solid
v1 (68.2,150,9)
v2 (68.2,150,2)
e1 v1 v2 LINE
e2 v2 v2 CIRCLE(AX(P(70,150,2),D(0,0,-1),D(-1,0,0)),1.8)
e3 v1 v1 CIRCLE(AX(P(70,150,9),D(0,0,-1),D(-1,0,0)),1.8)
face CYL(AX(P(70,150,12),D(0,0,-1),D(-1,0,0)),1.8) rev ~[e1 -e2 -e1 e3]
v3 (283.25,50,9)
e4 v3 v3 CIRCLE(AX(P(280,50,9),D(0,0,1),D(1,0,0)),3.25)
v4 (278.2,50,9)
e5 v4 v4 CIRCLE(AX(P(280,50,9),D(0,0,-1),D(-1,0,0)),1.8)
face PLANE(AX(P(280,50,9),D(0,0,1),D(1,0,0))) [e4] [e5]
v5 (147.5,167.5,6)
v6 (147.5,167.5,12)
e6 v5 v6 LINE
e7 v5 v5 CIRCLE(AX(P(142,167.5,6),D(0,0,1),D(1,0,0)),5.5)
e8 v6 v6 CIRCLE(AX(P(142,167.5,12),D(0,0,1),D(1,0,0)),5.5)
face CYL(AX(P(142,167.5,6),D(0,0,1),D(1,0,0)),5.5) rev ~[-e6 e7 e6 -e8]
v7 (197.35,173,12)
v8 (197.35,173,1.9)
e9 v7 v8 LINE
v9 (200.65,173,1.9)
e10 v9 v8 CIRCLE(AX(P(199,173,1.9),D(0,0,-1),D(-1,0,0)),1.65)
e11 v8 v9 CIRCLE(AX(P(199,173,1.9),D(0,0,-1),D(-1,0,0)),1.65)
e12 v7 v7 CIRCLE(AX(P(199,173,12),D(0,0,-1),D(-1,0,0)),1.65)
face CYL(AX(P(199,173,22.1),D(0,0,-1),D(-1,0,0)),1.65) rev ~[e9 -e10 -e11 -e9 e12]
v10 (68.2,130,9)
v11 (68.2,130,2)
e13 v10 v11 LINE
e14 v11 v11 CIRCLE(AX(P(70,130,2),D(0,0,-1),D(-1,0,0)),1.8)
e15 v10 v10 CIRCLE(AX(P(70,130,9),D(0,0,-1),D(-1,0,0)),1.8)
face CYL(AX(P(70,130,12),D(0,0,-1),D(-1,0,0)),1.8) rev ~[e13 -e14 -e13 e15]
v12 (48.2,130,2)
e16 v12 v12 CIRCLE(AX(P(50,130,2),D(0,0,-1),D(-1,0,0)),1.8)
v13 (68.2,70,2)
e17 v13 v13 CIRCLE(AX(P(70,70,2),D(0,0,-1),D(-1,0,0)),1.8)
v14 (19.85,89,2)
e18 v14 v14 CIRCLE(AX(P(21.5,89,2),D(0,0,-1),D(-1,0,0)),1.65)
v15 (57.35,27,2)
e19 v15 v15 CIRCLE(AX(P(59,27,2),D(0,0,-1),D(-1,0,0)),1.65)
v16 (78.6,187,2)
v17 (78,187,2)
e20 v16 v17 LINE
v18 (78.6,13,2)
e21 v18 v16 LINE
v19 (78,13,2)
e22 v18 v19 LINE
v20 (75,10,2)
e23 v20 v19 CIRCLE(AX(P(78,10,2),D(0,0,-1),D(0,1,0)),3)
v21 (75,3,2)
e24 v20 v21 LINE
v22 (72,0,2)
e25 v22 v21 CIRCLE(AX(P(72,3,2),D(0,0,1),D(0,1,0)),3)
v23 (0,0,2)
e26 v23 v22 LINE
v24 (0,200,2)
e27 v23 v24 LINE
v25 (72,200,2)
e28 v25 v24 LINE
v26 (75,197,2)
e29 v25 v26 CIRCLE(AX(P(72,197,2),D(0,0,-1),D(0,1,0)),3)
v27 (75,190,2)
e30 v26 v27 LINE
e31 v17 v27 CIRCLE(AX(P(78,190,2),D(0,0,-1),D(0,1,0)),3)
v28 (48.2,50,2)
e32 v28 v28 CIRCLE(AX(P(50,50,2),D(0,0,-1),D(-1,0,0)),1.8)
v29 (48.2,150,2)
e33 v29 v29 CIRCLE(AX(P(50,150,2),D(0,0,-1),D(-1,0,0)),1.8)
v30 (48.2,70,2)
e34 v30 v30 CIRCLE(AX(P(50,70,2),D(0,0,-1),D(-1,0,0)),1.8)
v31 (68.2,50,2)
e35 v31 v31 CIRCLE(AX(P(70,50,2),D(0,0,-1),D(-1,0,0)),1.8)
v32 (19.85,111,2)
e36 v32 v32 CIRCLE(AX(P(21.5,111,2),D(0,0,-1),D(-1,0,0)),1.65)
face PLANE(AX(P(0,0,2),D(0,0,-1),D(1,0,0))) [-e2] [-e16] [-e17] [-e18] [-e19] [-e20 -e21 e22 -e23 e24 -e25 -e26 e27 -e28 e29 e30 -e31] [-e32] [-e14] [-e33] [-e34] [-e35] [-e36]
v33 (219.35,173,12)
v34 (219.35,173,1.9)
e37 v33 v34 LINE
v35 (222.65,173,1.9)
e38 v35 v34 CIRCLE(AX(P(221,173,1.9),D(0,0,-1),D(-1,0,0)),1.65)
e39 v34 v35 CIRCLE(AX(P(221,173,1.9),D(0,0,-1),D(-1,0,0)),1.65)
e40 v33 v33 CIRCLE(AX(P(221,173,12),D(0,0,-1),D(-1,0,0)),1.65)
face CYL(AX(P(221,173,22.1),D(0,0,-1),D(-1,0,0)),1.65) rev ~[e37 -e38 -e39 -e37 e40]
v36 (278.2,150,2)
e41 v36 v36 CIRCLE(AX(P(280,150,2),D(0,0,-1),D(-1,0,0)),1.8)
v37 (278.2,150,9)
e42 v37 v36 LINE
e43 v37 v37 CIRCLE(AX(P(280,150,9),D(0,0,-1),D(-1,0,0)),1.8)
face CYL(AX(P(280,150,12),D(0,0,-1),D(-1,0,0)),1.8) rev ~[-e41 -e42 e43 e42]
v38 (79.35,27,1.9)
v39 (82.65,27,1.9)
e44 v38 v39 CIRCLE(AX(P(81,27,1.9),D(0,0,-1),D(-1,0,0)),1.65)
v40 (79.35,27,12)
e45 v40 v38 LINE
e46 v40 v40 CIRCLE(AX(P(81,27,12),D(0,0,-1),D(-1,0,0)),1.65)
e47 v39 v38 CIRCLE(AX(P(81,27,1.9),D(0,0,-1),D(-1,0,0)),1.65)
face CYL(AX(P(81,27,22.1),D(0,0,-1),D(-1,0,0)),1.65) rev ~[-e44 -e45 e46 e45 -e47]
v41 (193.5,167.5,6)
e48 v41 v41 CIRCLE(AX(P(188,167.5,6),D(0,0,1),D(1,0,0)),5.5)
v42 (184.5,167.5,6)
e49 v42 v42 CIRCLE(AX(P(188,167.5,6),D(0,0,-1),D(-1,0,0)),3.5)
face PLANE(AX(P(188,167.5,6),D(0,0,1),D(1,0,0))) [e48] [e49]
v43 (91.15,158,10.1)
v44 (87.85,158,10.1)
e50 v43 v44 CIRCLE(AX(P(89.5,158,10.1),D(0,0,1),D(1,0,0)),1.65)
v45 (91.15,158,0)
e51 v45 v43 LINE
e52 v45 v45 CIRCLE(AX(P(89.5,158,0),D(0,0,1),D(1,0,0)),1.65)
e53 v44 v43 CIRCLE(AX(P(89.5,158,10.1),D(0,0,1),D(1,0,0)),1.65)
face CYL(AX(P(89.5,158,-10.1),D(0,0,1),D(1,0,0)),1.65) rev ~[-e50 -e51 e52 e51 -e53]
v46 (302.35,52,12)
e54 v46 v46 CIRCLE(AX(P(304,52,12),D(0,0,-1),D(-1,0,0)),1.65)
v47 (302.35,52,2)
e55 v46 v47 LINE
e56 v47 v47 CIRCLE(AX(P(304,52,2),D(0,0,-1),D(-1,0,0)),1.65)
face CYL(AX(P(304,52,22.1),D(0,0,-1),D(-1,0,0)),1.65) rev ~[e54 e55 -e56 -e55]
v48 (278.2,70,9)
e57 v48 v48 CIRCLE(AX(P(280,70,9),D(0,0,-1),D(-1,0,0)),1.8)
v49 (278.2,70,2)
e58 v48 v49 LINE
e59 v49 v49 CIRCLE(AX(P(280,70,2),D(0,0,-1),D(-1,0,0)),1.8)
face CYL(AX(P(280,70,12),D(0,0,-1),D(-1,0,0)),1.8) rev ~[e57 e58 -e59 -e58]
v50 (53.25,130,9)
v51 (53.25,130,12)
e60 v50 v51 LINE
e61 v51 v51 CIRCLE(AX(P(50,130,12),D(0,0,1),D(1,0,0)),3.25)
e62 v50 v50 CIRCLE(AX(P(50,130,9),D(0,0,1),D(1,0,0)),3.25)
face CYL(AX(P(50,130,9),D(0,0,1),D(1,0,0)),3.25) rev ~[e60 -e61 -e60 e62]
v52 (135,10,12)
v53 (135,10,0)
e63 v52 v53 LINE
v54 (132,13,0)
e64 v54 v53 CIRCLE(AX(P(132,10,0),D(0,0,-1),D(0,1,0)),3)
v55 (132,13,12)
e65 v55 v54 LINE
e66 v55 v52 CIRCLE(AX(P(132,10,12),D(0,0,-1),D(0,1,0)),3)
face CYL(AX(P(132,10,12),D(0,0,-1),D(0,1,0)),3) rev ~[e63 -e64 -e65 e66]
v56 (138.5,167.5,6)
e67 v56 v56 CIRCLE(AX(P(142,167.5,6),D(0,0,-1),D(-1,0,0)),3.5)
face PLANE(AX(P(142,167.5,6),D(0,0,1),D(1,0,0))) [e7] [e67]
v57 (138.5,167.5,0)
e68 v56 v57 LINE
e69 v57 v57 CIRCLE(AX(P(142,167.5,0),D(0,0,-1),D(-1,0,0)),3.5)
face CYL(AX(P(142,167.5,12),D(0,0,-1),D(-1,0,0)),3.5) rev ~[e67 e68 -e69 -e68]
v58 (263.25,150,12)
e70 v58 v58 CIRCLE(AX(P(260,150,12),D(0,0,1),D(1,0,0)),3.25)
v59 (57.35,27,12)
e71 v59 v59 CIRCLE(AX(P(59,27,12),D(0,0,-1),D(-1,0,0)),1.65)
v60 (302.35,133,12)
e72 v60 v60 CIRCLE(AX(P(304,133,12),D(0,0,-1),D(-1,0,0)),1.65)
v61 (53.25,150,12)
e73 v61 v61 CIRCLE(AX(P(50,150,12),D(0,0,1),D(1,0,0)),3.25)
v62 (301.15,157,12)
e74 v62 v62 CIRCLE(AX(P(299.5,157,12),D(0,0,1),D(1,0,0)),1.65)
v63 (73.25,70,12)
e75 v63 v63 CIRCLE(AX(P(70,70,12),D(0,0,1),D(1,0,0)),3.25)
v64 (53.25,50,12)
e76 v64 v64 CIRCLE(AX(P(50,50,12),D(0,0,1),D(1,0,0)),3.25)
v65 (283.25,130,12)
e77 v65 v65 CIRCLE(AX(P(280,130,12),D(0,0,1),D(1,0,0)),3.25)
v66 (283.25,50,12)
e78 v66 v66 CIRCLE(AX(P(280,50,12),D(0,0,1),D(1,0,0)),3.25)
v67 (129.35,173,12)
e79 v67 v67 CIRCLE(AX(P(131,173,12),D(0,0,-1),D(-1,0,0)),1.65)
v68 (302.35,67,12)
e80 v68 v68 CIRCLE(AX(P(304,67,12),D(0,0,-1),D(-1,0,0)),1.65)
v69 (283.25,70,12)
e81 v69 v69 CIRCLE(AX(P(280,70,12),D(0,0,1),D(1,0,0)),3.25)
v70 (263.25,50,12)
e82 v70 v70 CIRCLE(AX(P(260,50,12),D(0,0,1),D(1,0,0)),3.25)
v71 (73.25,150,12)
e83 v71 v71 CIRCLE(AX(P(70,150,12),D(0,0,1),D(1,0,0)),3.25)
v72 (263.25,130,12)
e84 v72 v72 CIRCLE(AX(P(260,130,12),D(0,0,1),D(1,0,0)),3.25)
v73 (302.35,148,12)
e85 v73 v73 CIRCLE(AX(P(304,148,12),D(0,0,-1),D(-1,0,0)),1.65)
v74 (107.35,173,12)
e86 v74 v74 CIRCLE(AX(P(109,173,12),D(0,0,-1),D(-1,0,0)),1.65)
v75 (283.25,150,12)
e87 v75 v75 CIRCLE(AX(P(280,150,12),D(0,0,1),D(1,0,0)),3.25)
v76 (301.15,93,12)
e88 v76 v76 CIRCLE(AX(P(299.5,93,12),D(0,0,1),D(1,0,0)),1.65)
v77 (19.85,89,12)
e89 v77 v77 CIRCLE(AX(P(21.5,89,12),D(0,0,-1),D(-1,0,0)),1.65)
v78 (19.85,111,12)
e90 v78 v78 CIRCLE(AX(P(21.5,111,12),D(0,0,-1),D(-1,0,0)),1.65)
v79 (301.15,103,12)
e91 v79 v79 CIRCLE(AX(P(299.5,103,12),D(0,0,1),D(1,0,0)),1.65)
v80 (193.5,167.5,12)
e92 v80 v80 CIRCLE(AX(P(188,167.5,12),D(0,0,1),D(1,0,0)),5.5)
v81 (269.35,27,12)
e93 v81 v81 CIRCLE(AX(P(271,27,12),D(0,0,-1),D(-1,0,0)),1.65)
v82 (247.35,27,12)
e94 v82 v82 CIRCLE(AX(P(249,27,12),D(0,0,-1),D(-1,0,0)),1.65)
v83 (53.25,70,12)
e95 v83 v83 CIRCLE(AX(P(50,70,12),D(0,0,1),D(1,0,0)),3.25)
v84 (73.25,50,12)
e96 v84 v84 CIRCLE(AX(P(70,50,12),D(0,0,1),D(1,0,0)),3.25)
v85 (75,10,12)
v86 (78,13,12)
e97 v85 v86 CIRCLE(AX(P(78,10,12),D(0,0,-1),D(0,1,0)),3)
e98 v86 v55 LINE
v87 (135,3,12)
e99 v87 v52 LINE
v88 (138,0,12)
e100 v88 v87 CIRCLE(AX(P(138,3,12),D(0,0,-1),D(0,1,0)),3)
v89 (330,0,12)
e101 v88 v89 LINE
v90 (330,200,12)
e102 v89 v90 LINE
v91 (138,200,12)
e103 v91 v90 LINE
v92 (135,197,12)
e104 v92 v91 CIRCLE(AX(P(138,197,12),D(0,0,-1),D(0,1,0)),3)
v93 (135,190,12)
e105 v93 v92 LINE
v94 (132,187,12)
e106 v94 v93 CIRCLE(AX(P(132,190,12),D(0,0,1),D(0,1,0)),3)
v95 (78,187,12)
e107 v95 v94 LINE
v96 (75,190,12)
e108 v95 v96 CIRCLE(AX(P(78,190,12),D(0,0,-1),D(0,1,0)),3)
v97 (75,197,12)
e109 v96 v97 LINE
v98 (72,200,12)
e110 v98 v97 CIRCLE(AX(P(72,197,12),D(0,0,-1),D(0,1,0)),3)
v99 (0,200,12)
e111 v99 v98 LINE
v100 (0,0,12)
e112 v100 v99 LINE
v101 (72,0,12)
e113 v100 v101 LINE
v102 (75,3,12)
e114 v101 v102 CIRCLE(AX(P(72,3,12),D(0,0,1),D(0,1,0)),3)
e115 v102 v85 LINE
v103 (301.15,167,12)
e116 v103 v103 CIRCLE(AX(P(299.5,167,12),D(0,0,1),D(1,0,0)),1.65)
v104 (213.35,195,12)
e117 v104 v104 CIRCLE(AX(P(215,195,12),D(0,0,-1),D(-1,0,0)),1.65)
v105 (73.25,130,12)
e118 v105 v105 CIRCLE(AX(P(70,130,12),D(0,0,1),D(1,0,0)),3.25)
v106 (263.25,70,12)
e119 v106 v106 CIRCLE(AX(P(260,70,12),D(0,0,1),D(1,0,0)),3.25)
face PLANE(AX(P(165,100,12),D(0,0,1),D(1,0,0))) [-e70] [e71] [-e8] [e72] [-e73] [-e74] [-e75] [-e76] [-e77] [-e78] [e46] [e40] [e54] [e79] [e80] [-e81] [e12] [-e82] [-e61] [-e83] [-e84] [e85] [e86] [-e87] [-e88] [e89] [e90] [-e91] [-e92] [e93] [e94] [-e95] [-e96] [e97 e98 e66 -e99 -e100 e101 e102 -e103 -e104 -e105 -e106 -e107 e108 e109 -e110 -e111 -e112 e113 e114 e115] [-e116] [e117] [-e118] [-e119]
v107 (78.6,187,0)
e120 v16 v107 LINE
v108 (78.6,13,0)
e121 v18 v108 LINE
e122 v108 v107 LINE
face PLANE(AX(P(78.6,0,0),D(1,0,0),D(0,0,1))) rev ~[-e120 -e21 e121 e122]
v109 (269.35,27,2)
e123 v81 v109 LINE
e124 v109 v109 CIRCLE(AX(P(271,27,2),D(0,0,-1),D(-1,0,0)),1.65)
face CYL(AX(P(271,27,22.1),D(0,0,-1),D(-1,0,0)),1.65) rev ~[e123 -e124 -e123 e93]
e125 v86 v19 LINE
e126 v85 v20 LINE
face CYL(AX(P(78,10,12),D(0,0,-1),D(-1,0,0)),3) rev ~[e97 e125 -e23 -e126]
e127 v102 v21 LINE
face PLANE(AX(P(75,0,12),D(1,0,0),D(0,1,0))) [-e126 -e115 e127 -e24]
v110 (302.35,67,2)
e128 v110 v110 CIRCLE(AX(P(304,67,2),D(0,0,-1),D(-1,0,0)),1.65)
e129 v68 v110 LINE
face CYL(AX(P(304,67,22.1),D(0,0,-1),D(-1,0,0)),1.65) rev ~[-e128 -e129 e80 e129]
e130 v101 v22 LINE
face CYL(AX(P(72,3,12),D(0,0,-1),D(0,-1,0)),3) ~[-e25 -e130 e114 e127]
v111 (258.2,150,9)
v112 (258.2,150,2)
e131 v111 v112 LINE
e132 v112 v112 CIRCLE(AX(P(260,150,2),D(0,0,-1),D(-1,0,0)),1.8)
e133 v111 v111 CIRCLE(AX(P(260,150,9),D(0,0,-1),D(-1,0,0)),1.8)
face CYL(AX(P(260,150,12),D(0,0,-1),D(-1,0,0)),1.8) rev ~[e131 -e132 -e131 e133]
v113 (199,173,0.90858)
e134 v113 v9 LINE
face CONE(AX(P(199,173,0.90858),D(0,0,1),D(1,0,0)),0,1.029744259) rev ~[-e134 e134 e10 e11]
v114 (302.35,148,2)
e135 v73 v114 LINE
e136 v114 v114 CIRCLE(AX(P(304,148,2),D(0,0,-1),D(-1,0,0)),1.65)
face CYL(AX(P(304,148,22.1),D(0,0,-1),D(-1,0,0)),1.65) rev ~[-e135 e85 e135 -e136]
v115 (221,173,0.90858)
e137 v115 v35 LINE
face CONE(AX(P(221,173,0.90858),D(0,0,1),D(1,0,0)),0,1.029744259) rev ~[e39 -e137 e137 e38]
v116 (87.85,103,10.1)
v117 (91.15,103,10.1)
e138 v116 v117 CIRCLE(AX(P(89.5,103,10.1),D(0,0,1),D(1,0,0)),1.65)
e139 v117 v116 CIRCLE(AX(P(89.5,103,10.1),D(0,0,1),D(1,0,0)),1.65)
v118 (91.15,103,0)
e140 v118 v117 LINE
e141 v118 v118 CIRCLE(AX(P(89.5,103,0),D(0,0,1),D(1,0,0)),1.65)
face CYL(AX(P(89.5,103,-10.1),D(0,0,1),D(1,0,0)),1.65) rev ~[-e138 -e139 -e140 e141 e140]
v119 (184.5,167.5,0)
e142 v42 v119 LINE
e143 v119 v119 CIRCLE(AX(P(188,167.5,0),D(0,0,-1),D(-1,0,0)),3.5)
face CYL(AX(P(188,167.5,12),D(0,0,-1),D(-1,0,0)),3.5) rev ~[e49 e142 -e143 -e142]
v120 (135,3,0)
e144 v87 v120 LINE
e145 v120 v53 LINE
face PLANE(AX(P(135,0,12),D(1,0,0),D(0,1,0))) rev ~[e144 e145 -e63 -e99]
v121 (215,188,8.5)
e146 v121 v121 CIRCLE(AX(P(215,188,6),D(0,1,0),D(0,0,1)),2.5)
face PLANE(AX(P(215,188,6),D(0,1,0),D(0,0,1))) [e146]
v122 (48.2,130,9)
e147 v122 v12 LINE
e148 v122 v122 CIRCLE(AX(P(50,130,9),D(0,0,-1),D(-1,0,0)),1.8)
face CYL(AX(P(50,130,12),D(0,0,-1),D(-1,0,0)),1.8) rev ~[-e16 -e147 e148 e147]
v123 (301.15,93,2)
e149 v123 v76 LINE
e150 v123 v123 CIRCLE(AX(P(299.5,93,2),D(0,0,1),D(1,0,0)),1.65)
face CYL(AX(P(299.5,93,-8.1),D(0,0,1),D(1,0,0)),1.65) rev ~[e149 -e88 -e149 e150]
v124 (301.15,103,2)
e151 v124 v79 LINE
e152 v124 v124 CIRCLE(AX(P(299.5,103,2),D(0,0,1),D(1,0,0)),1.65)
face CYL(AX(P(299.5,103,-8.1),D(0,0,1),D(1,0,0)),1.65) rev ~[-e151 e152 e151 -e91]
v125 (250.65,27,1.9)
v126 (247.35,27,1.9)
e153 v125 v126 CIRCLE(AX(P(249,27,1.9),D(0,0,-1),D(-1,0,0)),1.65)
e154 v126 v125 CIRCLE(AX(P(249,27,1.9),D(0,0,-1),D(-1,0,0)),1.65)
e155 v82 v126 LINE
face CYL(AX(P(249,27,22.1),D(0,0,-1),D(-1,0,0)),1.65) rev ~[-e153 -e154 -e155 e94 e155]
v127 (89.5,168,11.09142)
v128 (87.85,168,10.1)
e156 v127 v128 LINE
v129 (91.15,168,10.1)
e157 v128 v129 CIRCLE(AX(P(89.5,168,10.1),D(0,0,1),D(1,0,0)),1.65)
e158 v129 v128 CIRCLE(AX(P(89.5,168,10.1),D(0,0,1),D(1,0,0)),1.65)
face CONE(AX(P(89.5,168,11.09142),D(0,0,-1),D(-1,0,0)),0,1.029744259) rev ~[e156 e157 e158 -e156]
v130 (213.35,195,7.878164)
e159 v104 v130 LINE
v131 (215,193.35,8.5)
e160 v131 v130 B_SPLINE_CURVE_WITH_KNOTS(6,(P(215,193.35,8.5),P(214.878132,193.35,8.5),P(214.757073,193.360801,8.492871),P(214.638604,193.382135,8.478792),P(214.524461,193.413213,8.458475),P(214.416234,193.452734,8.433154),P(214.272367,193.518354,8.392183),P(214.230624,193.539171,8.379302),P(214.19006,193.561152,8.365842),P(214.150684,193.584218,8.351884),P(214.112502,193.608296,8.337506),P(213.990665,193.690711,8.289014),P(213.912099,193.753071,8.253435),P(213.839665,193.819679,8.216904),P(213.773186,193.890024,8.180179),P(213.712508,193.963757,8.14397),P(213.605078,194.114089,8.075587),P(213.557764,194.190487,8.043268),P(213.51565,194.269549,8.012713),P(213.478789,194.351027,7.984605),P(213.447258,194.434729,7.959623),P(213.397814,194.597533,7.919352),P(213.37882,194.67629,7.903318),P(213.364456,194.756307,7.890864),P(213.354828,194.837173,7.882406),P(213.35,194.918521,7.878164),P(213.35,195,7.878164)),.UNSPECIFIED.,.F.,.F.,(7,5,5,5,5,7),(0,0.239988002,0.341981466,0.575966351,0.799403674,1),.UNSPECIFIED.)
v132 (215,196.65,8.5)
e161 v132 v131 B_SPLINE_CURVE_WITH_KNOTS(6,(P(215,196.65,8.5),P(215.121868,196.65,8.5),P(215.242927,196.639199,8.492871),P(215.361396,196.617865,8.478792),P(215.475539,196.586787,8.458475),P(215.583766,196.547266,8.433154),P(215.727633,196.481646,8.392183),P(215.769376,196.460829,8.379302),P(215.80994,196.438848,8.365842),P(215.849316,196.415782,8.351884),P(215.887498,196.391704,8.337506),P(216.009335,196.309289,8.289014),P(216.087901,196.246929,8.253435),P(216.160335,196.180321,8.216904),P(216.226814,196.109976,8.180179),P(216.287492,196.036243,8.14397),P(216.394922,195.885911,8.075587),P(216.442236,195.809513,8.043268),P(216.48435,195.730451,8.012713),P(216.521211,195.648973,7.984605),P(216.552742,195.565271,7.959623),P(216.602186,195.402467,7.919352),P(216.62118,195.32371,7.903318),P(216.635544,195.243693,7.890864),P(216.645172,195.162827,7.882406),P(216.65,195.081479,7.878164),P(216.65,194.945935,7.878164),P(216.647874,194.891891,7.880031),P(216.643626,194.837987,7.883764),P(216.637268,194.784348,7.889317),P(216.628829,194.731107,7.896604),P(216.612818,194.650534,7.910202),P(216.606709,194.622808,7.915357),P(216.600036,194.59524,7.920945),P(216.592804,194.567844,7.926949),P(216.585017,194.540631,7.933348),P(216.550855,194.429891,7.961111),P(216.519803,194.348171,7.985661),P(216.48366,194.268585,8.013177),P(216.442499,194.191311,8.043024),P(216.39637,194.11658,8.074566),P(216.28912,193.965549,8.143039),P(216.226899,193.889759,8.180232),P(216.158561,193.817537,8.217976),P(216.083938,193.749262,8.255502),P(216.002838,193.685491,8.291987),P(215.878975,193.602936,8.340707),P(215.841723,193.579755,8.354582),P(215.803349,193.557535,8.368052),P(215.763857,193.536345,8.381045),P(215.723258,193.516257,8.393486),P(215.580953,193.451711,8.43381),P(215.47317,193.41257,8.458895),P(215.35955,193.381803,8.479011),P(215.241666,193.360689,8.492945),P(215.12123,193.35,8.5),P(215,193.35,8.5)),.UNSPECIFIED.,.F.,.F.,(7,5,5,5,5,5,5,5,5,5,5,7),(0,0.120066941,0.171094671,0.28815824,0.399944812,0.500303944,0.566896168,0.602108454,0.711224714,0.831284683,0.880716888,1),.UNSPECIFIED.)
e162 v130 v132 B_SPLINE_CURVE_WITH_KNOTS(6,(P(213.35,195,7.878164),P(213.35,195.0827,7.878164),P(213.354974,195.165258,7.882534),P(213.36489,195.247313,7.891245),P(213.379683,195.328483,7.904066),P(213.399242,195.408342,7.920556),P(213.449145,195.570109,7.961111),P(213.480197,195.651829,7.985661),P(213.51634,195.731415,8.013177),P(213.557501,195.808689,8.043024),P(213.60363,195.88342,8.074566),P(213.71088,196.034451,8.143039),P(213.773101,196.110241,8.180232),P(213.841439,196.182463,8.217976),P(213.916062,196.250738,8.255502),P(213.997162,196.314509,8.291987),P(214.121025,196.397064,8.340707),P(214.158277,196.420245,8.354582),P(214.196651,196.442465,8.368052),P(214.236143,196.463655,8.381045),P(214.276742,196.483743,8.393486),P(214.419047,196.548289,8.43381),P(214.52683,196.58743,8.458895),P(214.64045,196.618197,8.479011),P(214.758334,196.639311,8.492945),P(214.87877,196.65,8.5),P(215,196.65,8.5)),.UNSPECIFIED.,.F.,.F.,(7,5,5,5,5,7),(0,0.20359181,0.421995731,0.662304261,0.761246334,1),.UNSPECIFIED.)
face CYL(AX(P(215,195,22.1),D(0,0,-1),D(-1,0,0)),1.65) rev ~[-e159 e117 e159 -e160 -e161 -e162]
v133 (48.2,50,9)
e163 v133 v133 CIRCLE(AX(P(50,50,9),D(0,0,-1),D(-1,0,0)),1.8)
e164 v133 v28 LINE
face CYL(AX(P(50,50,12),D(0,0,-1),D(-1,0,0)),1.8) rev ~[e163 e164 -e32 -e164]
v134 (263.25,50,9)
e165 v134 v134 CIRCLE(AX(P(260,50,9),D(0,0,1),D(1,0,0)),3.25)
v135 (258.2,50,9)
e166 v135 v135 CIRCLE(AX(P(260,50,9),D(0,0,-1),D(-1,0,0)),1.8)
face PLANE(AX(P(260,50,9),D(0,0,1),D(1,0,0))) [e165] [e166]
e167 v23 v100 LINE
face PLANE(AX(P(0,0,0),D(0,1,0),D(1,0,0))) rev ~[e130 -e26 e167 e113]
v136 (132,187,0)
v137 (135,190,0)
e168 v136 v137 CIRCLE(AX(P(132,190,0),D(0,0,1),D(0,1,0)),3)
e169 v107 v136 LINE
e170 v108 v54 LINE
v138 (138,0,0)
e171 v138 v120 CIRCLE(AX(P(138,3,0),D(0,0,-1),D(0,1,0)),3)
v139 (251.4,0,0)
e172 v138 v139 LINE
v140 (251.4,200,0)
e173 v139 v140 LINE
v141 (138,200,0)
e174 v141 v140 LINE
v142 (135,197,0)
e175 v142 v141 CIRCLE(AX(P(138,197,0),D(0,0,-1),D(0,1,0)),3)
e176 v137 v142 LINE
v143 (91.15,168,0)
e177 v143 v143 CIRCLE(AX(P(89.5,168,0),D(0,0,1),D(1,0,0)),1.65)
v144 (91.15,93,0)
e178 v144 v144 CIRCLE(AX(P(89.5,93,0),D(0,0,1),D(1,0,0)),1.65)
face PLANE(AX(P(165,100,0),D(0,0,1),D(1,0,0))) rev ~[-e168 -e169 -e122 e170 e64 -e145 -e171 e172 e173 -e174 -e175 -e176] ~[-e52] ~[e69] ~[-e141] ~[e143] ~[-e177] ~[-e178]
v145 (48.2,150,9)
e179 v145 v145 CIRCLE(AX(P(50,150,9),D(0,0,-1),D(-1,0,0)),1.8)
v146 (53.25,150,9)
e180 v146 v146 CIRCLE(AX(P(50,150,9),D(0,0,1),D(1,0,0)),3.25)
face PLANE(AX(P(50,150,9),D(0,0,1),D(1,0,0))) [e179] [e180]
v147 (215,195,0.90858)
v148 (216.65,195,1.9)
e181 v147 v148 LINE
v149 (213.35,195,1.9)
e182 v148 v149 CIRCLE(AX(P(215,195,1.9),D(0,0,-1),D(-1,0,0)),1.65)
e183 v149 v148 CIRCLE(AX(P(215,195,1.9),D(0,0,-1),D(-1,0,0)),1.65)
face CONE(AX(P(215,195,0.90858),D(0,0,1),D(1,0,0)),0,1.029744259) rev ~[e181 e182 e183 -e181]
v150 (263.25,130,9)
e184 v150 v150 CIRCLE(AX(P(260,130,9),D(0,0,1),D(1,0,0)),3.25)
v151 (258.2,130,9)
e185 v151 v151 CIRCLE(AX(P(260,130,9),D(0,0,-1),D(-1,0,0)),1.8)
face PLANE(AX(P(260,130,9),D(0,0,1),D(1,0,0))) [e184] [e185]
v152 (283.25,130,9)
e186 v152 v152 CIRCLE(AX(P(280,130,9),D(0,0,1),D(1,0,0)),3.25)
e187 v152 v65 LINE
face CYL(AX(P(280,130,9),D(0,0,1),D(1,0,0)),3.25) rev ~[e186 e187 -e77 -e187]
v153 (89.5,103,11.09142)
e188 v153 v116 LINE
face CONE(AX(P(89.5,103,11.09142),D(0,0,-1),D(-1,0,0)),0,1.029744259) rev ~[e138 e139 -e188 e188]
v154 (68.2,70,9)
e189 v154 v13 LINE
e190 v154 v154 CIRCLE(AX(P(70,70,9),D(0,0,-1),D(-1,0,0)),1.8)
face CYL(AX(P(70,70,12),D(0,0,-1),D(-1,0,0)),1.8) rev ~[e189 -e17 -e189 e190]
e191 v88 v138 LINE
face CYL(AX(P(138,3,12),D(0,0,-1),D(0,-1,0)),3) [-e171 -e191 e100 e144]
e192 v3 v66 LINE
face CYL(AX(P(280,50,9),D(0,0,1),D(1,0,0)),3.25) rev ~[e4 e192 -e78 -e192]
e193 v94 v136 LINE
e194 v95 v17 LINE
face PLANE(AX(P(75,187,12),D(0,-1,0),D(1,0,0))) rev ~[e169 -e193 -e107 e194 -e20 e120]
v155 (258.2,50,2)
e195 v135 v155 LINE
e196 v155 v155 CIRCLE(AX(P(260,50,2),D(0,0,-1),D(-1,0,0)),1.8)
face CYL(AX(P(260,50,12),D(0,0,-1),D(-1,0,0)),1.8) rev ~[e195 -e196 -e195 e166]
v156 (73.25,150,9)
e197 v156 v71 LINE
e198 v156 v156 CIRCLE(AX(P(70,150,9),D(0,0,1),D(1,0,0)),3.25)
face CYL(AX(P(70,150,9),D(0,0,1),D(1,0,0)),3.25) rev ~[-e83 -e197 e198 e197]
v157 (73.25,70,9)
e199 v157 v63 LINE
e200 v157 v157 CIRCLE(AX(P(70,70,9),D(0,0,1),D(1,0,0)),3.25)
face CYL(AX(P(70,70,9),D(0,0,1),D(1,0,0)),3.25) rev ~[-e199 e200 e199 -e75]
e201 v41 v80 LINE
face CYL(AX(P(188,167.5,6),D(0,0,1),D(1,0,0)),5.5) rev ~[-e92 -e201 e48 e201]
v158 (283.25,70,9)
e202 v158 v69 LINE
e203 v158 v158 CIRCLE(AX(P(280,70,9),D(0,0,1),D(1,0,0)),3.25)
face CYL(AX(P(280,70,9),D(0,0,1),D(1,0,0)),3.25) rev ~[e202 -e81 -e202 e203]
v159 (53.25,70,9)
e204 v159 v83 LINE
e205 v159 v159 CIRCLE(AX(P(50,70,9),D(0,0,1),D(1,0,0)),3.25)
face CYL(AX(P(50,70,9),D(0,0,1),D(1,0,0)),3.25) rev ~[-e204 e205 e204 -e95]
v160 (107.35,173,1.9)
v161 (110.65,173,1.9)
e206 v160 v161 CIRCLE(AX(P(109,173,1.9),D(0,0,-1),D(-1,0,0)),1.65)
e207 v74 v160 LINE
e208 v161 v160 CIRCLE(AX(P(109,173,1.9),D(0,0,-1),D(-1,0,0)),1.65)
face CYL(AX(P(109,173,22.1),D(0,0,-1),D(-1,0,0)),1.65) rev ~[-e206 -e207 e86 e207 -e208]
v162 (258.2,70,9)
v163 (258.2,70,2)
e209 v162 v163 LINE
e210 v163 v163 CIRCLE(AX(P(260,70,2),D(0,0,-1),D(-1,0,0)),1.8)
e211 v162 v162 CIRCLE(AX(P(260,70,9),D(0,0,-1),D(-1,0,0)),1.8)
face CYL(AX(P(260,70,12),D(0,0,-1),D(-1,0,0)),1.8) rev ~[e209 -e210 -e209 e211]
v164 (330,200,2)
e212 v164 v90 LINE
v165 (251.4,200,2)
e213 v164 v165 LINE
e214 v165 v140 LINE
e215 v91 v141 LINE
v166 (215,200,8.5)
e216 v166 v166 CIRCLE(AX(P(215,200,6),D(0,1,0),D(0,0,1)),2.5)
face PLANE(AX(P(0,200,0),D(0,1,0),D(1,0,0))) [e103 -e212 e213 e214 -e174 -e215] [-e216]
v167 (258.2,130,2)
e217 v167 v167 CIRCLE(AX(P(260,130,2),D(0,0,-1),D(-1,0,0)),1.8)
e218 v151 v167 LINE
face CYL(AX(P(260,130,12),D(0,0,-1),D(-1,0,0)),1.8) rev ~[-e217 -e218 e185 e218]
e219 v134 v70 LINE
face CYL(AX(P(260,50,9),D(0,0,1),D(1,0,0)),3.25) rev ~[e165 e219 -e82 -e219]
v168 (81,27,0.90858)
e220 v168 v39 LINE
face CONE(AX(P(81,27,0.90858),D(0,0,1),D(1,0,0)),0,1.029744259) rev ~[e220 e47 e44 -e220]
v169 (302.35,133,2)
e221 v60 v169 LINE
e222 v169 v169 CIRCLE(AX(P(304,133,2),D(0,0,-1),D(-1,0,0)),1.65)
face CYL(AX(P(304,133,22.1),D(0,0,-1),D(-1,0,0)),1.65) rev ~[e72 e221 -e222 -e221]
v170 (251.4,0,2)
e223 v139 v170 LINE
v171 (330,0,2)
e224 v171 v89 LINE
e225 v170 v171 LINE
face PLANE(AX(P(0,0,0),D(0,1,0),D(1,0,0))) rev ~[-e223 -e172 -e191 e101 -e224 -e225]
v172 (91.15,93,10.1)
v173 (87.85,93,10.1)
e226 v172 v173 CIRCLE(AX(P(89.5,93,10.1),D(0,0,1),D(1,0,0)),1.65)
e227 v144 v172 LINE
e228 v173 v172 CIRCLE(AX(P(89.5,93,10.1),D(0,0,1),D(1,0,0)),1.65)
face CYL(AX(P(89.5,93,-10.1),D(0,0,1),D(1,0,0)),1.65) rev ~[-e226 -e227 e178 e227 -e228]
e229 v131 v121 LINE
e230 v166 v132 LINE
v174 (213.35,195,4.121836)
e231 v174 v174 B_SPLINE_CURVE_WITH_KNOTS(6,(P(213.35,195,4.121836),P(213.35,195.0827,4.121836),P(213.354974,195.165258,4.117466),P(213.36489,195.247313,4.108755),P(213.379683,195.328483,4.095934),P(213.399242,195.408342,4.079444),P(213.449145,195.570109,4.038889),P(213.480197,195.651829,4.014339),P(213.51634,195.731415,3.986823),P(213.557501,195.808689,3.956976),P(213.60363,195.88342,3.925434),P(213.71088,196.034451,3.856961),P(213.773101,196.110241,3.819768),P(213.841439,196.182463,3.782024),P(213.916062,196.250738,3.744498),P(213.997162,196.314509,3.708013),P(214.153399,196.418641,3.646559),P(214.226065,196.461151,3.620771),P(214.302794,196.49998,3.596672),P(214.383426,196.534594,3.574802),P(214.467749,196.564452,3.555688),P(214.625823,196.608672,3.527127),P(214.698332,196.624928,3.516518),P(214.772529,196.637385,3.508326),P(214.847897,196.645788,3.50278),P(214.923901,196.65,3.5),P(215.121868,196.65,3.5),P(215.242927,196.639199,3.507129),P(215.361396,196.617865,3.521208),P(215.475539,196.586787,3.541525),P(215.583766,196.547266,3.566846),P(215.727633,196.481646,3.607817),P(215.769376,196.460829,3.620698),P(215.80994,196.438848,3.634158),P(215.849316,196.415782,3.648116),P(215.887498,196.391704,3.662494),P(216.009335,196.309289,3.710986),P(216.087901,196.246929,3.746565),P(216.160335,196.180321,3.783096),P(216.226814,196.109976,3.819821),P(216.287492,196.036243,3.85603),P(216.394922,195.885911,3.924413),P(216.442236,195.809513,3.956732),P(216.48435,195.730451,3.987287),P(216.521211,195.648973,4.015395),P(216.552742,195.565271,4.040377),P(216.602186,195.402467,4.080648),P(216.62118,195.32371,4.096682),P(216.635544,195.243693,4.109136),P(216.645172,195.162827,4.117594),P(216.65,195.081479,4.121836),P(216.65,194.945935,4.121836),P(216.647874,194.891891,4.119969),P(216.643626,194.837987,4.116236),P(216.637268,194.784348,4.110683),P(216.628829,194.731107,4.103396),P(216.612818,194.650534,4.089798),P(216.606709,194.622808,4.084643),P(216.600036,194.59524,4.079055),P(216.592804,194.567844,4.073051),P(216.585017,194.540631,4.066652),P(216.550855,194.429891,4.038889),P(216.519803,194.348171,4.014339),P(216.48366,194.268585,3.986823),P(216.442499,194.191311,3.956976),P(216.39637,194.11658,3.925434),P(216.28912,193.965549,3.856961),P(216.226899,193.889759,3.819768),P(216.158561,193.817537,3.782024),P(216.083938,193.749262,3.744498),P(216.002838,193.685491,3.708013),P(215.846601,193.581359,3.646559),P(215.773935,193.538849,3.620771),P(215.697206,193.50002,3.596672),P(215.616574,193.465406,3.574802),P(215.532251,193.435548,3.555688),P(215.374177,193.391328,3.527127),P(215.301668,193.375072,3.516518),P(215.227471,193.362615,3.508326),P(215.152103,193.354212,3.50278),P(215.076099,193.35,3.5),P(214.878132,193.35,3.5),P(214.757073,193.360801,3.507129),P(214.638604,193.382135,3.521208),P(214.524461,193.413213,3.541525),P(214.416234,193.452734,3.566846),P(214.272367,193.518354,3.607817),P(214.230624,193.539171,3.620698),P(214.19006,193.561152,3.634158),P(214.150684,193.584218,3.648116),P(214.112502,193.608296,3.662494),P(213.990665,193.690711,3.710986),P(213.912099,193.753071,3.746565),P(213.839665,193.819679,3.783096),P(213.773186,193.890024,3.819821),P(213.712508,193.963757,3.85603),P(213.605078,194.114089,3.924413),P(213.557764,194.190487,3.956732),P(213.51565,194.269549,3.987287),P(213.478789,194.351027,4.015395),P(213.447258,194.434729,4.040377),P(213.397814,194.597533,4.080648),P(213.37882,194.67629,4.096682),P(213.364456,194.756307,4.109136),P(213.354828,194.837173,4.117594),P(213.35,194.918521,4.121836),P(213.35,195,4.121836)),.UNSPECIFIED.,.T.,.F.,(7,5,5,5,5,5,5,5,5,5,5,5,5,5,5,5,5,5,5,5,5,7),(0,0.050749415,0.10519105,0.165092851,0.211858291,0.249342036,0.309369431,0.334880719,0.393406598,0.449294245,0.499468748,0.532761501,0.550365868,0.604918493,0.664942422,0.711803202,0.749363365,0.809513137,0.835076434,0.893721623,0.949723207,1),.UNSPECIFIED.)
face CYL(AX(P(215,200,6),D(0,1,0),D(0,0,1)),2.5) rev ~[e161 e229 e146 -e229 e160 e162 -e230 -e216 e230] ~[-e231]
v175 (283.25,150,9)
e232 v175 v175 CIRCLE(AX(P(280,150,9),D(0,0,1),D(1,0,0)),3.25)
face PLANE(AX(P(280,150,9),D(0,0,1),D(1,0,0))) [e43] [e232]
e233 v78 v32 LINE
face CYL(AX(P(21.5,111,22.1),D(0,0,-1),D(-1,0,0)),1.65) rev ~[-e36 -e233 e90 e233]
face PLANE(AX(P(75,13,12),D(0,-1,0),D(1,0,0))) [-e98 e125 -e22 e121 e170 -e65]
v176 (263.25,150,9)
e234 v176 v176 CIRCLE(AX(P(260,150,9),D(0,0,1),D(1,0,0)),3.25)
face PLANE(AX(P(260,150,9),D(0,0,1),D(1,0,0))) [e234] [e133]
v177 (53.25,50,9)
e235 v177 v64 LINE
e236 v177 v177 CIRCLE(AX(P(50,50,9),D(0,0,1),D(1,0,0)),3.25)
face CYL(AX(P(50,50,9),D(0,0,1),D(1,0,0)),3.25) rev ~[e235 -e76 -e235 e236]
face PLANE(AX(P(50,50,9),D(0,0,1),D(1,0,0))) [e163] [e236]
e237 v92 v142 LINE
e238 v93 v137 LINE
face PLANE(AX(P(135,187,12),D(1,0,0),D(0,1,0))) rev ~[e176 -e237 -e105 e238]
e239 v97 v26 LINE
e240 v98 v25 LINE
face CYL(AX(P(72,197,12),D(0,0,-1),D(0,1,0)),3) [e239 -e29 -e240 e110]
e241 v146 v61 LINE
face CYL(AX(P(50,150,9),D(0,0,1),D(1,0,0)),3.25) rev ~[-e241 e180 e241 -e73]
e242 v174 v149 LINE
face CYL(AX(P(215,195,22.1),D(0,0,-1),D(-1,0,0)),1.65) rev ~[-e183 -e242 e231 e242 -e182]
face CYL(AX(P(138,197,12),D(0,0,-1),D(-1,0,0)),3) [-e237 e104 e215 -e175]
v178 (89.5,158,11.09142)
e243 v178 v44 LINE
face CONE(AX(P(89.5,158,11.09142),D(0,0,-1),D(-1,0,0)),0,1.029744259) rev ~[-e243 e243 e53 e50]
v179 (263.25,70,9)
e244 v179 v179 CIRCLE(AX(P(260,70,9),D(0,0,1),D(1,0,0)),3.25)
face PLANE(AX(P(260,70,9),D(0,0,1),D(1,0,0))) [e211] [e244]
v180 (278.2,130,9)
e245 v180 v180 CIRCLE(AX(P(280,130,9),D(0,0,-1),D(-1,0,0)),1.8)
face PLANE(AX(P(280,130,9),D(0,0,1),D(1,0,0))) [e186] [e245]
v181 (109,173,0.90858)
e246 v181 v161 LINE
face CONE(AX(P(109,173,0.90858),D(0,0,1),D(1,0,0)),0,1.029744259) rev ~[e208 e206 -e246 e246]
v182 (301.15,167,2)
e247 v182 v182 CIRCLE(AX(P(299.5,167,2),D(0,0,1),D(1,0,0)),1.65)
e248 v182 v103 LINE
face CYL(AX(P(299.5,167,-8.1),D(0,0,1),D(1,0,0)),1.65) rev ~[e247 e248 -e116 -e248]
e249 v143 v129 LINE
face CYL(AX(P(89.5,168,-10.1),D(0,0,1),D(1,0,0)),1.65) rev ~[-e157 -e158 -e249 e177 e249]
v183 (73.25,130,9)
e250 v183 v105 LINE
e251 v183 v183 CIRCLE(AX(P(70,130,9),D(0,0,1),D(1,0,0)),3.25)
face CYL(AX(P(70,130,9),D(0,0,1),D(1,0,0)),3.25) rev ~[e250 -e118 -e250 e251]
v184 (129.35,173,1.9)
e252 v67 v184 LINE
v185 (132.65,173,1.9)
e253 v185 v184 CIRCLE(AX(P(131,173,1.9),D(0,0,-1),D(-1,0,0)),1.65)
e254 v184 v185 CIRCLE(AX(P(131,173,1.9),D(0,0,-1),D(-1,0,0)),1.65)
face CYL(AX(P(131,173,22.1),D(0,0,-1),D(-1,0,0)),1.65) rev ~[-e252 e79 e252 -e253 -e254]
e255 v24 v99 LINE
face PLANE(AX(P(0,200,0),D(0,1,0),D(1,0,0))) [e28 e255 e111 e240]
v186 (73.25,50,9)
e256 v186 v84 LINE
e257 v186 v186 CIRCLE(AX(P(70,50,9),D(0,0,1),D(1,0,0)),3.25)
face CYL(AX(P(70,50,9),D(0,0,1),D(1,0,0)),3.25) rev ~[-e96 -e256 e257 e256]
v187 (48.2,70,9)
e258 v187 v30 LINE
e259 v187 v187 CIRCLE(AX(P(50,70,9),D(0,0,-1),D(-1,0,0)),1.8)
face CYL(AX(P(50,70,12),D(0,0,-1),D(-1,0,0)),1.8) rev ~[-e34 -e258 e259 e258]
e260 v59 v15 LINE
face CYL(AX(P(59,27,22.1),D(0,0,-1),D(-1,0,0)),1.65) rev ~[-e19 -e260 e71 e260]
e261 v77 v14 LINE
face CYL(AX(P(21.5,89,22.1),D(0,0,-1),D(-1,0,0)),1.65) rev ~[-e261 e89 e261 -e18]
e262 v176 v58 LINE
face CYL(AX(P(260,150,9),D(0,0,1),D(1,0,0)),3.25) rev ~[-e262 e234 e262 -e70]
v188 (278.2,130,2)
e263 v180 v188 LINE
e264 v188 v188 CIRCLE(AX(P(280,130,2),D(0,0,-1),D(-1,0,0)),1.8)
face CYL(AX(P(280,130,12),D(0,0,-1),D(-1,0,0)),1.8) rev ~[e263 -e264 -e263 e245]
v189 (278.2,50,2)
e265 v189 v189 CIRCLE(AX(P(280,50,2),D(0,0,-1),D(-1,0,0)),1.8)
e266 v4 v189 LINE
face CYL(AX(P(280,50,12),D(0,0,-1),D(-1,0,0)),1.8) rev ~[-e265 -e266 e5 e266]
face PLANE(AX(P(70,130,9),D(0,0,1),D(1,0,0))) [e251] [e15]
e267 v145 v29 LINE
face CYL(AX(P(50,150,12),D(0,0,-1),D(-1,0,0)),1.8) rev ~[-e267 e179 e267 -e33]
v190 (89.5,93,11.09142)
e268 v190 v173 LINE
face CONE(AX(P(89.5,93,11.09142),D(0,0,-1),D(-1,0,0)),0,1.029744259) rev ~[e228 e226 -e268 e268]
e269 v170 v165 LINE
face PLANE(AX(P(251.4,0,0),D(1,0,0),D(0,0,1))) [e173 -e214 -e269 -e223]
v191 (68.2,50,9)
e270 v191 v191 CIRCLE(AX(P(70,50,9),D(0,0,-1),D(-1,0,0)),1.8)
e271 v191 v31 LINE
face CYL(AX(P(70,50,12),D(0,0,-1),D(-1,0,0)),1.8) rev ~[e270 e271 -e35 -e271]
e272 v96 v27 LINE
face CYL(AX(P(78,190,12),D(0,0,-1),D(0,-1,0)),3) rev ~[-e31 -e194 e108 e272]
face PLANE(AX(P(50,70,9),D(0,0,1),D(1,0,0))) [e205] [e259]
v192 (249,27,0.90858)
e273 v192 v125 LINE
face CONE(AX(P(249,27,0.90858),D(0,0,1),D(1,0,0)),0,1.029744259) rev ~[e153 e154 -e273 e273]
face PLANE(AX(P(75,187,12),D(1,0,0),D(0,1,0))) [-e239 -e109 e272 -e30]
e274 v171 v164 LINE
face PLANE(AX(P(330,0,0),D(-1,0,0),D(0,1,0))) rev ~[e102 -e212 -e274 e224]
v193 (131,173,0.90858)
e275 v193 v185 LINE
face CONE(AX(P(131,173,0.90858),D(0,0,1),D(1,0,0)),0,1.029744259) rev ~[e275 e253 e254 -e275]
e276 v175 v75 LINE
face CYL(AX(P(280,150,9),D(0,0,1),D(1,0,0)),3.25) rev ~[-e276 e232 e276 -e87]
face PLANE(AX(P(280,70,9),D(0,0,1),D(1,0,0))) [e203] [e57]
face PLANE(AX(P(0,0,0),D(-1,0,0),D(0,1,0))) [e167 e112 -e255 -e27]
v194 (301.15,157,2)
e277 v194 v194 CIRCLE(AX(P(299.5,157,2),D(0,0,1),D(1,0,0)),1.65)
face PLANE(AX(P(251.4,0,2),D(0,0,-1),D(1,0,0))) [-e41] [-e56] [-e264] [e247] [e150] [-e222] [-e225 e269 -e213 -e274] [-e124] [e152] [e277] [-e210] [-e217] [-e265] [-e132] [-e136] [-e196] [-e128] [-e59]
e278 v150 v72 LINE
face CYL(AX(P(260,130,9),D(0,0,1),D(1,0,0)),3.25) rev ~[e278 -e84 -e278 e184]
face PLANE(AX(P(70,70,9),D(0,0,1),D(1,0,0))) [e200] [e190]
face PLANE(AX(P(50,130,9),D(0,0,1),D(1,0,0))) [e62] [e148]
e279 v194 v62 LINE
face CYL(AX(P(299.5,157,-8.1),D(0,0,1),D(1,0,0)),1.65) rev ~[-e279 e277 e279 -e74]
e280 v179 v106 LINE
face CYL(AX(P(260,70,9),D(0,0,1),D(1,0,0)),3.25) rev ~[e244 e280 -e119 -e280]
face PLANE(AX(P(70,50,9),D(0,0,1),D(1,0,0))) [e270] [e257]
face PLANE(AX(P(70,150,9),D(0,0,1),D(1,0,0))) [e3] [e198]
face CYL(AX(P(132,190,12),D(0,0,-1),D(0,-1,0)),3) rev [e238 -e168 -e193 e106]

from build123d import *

# Parameters (mm, degrees)
SKETCH_1_W                   = 330
SKETCH_1_H                   = 200
EXTRUDE_1_DEPTH              = 12
SKETCH_2_W                   = 78.6
SKETCH_2_H                   = 2
CUT_EXTRUDE_1_DEPTH          = 387.062171159
SKETCH_4_R                   = 2.5
CUT_EXTRUDE_3_DEPTH          = 12
HOLE_WIZARD_M4_1_D           = 3.3
HOLE_WIZARD_M4_1_DEPTH       = 10.1
HOLE_WIZARD_M4_1_TIP         = 0.991420021
HOLE_WIZARD_M6_1_D           = 7
HOLE_WIZARD_M6_1_CBORE_D     = 11
HOLE_WIZARD_M6_1_CBORE_DEPTH = 6
HOLE_WIZARD_M3_1_D           = 3.6
HOLE_WIZARD_M3_1_CBORE_D     = 6.5
HOLE_WIZARD_M3_1_CBORE_DEPTH = 3
SKETCH_11_W                  = 60
SKETCH_11_H                  = 13
CUT_EXTRUDE_4_DEPTH          = 387.062171159
FILLET_1_R                   = 3
HOLE_WIZARD_M4_2_D           = 3.3
HOLE_WIZARD_M4_2_DEPTH       = 10.1
HOLE_WIZARD_M4_2_TIP         = 0.991420021
HOLE_WIZARD_M4_4_D           = 3.3
HOLE_WIZARD_M4_4_DEPTH       = 10.1
HOLE_WIZARD_M4_4_TIP         = 0.991420021
HOLE_WIZARD_M4_5_D           = 3.3
HOLE_WIZARD_M4_5_DEPTH       = 10.1
HOLE_WIZARD_M4_5_TIP         = 0.991420021


with BuildPart() as part:
    # 草图1 → 凸台-拉伸1 (new body)
    with BuildSketch(Plane.XY):
        with Locations((165, 100)):
            Rectangle(SKETCH_1_W, SKETCH_1_H)
    extrude(amount=EXTRUDE_1_DEPTH)

    # 草图2 → 切除-拉伸1 (cut, through all)
    with BuildSketch(Plane.XZ):
        with Locations((39.3, 1)):
            Rectangle(SKETCH_2_W, SKETCH_2_H)
        with Locations((290.7, 1)):
            Rectangle(SKETCH_2_W, SKETCH_2_H)
    extrude(amount=-CUT_EXTRUDE_1_DEPTH, mode=Mode.SUBTRACT)

    # 草图4 → 切除-拉伸3 (cut)
    with BuildSketch(Plane(origin=(0, 200, 0), x_dir=(1, 0, 0), z_dir=(0, 1, 0))):
        with Locations(Location((215, -6, 0), (0, 0, 270))):
            Circle(SKETCH_4_R)
    extrude(amount=-CUT_EXTRUDE_3_DEPTH, mode=Mode.SUBTRACT)

    # M4 螺纹孔1
    with Locations(Plane.XY.offset(12)):
        with Locations((109, 173), (131, 173), (199, 173), (221, 173), (21.5, 111), (21.5, 89), (59, 27), (81, 27), (249, 27), (271, 27), (304, 52), (304, 67), (304, 133), (304, 148)):
            Hole(HOLE_WIZARD_M4_1_D / 2, depth=HOLE_WIZARD_M4_1_DEPTH)
            with Locations((0, 0, -(HOLE_WIZARD_M4_1_DEPTH + HOLE_WIZARD_M4_1_TIP / 2))):  # 118° drill point
                Cone(0, HOLE_WIZARD_M4_1_D / 2, HOLE_WIZARD_M4_1_TIP, mode=Mode.SUBTRACT)

    # M6 六角凹头螺钉的柱形沉头孔1 (through all)
    with Locations(Plane.XY.offset(12)):
        with Locations((188, 167.5), (142, 167.5)):
            CounterBoreHole(HOLE_WIZARD_M6_1_D / 2, HOLE_WIZARD_M6_1_CBORE_D / 2, HOLE_WIZARD_M6_1_CBORE_DEPTH)

    # M3 六角凹头螺钉的柱形沉头孔1 (through all)
    with Locations(Plane.XY.offset(12)):
        with Locations((70, 150), (50, 150), (50, 130), (70, 130), (70, 50), (50, 50), (70, 70), (50, 70), (280, 50), (260, 50), (280, 70), (260, 70), (280, 150), (260, 150), (280, 130), (260, 130)):
            CounterBoreHole(HOLE_WIZARD_M3_1_D / 2, HOLE_WIZARD_M3_1_CBORE_D / 2, HOLE_WIZARD_M3_1_CBORE_DEPTH)

    # 草图11 → 切除-拉伸4 (cut, through all)
    with BuildSketch(Plane.XY.offset(12)):
        with Locations((105, 193.5)):
            Rectangle(SKETCH_11_W, SKETCH_11_H)
        with Locations((105, 6.5)):
            Rectangle(SKETCH_11_W, SKETCH_11_H)
    extrude(amount=-CUT_EXTRUDE_4_DEPTH, mode=Mode.SUBTRACT)

    # 圆角1
    fillet_1_edges = [part.edges().sort_by_distance(p)[0] for p in [
        (75, 187, 7),
        (135, 187, 6),
        (75, 200, 7),
        (135, 200, 6),
        (75, 0, 7),
        (135, 0, 6),
        (75, 13, 7),
        (135, 13, 6),
    ]]
    fillet(fillet_1_edges, radius=FILLET_1_R)

    # M4 螺纹孔2
    with Locations(Plane.XY.offset(12)):
        with Locations((215, 195)):
            Hole(HOLE_WIZARD_M4_2_D / 2, depth=HOLE_WIZARD_M4_2_DEPTH)
            with Locations((0, 0, -(HOLE_WIZARD_M4_2_DEPTH + HOLE_WIZARD_M4_2_TIP / 2))):  # 118° drill point
                Cone(0, HOLE_WIZARD_M4_2_D / 2, HOLE_WIZARD_M4_2_TIP, mode=Mode.SUBTRACT)

    # M4 螺纹孔4
    with Locations(Plane(origin=(0, 0, 2), x_dir=(-1, 0, 0), z_dir=(0, 0, -1))):
        with Locations((-299.5, 167), (-299.5, 157), (-299.5, 103), (-299.5, 93)):
            Hole(HOLE_WIZARD_M4_4_D / 2, depth=HOLE_WIZARD_M4_4_DEPTH)
            with Locations((0, 0, -(HOLE_WIZARD_M4_4_DEPTH + HOLE_WIZARD_M4_4_TIP / 2))):  # 118° drill point
                Cone(0, HOLE_WIZARD_M4_4_D / 2, HOLE_WIZARD_M4_4_TIP, mode=Mode.SUBTRACT)

    # M4 螺纹孔5
    with Locations(Plane(origin=(0, 0, 0), x_dir=(-1, 0, 0), z_dir=(0, 0, -1))):
        with Locations((-89.5, 158), (-89.5, 168), (-89.5, 93), (-89.5, 103)):
            Hole(HOLE_WIZARD_M4_5_D / 2, depth=HOLE_WIZARD_M4_5_DEPTH)
            with Locations((0, 0, -(HOLE_WIZARD_M4_5_DEPTH + HOLE_WIZARD_M4_5_TIP / 2))):  # 118° drill point
                Cone(0, HOLE_WIZARD_M4_5_D / 2, HOLE_WIZARD_M4_5_TIP, mode=Mode.SUBTRACT)


solid = part.part
